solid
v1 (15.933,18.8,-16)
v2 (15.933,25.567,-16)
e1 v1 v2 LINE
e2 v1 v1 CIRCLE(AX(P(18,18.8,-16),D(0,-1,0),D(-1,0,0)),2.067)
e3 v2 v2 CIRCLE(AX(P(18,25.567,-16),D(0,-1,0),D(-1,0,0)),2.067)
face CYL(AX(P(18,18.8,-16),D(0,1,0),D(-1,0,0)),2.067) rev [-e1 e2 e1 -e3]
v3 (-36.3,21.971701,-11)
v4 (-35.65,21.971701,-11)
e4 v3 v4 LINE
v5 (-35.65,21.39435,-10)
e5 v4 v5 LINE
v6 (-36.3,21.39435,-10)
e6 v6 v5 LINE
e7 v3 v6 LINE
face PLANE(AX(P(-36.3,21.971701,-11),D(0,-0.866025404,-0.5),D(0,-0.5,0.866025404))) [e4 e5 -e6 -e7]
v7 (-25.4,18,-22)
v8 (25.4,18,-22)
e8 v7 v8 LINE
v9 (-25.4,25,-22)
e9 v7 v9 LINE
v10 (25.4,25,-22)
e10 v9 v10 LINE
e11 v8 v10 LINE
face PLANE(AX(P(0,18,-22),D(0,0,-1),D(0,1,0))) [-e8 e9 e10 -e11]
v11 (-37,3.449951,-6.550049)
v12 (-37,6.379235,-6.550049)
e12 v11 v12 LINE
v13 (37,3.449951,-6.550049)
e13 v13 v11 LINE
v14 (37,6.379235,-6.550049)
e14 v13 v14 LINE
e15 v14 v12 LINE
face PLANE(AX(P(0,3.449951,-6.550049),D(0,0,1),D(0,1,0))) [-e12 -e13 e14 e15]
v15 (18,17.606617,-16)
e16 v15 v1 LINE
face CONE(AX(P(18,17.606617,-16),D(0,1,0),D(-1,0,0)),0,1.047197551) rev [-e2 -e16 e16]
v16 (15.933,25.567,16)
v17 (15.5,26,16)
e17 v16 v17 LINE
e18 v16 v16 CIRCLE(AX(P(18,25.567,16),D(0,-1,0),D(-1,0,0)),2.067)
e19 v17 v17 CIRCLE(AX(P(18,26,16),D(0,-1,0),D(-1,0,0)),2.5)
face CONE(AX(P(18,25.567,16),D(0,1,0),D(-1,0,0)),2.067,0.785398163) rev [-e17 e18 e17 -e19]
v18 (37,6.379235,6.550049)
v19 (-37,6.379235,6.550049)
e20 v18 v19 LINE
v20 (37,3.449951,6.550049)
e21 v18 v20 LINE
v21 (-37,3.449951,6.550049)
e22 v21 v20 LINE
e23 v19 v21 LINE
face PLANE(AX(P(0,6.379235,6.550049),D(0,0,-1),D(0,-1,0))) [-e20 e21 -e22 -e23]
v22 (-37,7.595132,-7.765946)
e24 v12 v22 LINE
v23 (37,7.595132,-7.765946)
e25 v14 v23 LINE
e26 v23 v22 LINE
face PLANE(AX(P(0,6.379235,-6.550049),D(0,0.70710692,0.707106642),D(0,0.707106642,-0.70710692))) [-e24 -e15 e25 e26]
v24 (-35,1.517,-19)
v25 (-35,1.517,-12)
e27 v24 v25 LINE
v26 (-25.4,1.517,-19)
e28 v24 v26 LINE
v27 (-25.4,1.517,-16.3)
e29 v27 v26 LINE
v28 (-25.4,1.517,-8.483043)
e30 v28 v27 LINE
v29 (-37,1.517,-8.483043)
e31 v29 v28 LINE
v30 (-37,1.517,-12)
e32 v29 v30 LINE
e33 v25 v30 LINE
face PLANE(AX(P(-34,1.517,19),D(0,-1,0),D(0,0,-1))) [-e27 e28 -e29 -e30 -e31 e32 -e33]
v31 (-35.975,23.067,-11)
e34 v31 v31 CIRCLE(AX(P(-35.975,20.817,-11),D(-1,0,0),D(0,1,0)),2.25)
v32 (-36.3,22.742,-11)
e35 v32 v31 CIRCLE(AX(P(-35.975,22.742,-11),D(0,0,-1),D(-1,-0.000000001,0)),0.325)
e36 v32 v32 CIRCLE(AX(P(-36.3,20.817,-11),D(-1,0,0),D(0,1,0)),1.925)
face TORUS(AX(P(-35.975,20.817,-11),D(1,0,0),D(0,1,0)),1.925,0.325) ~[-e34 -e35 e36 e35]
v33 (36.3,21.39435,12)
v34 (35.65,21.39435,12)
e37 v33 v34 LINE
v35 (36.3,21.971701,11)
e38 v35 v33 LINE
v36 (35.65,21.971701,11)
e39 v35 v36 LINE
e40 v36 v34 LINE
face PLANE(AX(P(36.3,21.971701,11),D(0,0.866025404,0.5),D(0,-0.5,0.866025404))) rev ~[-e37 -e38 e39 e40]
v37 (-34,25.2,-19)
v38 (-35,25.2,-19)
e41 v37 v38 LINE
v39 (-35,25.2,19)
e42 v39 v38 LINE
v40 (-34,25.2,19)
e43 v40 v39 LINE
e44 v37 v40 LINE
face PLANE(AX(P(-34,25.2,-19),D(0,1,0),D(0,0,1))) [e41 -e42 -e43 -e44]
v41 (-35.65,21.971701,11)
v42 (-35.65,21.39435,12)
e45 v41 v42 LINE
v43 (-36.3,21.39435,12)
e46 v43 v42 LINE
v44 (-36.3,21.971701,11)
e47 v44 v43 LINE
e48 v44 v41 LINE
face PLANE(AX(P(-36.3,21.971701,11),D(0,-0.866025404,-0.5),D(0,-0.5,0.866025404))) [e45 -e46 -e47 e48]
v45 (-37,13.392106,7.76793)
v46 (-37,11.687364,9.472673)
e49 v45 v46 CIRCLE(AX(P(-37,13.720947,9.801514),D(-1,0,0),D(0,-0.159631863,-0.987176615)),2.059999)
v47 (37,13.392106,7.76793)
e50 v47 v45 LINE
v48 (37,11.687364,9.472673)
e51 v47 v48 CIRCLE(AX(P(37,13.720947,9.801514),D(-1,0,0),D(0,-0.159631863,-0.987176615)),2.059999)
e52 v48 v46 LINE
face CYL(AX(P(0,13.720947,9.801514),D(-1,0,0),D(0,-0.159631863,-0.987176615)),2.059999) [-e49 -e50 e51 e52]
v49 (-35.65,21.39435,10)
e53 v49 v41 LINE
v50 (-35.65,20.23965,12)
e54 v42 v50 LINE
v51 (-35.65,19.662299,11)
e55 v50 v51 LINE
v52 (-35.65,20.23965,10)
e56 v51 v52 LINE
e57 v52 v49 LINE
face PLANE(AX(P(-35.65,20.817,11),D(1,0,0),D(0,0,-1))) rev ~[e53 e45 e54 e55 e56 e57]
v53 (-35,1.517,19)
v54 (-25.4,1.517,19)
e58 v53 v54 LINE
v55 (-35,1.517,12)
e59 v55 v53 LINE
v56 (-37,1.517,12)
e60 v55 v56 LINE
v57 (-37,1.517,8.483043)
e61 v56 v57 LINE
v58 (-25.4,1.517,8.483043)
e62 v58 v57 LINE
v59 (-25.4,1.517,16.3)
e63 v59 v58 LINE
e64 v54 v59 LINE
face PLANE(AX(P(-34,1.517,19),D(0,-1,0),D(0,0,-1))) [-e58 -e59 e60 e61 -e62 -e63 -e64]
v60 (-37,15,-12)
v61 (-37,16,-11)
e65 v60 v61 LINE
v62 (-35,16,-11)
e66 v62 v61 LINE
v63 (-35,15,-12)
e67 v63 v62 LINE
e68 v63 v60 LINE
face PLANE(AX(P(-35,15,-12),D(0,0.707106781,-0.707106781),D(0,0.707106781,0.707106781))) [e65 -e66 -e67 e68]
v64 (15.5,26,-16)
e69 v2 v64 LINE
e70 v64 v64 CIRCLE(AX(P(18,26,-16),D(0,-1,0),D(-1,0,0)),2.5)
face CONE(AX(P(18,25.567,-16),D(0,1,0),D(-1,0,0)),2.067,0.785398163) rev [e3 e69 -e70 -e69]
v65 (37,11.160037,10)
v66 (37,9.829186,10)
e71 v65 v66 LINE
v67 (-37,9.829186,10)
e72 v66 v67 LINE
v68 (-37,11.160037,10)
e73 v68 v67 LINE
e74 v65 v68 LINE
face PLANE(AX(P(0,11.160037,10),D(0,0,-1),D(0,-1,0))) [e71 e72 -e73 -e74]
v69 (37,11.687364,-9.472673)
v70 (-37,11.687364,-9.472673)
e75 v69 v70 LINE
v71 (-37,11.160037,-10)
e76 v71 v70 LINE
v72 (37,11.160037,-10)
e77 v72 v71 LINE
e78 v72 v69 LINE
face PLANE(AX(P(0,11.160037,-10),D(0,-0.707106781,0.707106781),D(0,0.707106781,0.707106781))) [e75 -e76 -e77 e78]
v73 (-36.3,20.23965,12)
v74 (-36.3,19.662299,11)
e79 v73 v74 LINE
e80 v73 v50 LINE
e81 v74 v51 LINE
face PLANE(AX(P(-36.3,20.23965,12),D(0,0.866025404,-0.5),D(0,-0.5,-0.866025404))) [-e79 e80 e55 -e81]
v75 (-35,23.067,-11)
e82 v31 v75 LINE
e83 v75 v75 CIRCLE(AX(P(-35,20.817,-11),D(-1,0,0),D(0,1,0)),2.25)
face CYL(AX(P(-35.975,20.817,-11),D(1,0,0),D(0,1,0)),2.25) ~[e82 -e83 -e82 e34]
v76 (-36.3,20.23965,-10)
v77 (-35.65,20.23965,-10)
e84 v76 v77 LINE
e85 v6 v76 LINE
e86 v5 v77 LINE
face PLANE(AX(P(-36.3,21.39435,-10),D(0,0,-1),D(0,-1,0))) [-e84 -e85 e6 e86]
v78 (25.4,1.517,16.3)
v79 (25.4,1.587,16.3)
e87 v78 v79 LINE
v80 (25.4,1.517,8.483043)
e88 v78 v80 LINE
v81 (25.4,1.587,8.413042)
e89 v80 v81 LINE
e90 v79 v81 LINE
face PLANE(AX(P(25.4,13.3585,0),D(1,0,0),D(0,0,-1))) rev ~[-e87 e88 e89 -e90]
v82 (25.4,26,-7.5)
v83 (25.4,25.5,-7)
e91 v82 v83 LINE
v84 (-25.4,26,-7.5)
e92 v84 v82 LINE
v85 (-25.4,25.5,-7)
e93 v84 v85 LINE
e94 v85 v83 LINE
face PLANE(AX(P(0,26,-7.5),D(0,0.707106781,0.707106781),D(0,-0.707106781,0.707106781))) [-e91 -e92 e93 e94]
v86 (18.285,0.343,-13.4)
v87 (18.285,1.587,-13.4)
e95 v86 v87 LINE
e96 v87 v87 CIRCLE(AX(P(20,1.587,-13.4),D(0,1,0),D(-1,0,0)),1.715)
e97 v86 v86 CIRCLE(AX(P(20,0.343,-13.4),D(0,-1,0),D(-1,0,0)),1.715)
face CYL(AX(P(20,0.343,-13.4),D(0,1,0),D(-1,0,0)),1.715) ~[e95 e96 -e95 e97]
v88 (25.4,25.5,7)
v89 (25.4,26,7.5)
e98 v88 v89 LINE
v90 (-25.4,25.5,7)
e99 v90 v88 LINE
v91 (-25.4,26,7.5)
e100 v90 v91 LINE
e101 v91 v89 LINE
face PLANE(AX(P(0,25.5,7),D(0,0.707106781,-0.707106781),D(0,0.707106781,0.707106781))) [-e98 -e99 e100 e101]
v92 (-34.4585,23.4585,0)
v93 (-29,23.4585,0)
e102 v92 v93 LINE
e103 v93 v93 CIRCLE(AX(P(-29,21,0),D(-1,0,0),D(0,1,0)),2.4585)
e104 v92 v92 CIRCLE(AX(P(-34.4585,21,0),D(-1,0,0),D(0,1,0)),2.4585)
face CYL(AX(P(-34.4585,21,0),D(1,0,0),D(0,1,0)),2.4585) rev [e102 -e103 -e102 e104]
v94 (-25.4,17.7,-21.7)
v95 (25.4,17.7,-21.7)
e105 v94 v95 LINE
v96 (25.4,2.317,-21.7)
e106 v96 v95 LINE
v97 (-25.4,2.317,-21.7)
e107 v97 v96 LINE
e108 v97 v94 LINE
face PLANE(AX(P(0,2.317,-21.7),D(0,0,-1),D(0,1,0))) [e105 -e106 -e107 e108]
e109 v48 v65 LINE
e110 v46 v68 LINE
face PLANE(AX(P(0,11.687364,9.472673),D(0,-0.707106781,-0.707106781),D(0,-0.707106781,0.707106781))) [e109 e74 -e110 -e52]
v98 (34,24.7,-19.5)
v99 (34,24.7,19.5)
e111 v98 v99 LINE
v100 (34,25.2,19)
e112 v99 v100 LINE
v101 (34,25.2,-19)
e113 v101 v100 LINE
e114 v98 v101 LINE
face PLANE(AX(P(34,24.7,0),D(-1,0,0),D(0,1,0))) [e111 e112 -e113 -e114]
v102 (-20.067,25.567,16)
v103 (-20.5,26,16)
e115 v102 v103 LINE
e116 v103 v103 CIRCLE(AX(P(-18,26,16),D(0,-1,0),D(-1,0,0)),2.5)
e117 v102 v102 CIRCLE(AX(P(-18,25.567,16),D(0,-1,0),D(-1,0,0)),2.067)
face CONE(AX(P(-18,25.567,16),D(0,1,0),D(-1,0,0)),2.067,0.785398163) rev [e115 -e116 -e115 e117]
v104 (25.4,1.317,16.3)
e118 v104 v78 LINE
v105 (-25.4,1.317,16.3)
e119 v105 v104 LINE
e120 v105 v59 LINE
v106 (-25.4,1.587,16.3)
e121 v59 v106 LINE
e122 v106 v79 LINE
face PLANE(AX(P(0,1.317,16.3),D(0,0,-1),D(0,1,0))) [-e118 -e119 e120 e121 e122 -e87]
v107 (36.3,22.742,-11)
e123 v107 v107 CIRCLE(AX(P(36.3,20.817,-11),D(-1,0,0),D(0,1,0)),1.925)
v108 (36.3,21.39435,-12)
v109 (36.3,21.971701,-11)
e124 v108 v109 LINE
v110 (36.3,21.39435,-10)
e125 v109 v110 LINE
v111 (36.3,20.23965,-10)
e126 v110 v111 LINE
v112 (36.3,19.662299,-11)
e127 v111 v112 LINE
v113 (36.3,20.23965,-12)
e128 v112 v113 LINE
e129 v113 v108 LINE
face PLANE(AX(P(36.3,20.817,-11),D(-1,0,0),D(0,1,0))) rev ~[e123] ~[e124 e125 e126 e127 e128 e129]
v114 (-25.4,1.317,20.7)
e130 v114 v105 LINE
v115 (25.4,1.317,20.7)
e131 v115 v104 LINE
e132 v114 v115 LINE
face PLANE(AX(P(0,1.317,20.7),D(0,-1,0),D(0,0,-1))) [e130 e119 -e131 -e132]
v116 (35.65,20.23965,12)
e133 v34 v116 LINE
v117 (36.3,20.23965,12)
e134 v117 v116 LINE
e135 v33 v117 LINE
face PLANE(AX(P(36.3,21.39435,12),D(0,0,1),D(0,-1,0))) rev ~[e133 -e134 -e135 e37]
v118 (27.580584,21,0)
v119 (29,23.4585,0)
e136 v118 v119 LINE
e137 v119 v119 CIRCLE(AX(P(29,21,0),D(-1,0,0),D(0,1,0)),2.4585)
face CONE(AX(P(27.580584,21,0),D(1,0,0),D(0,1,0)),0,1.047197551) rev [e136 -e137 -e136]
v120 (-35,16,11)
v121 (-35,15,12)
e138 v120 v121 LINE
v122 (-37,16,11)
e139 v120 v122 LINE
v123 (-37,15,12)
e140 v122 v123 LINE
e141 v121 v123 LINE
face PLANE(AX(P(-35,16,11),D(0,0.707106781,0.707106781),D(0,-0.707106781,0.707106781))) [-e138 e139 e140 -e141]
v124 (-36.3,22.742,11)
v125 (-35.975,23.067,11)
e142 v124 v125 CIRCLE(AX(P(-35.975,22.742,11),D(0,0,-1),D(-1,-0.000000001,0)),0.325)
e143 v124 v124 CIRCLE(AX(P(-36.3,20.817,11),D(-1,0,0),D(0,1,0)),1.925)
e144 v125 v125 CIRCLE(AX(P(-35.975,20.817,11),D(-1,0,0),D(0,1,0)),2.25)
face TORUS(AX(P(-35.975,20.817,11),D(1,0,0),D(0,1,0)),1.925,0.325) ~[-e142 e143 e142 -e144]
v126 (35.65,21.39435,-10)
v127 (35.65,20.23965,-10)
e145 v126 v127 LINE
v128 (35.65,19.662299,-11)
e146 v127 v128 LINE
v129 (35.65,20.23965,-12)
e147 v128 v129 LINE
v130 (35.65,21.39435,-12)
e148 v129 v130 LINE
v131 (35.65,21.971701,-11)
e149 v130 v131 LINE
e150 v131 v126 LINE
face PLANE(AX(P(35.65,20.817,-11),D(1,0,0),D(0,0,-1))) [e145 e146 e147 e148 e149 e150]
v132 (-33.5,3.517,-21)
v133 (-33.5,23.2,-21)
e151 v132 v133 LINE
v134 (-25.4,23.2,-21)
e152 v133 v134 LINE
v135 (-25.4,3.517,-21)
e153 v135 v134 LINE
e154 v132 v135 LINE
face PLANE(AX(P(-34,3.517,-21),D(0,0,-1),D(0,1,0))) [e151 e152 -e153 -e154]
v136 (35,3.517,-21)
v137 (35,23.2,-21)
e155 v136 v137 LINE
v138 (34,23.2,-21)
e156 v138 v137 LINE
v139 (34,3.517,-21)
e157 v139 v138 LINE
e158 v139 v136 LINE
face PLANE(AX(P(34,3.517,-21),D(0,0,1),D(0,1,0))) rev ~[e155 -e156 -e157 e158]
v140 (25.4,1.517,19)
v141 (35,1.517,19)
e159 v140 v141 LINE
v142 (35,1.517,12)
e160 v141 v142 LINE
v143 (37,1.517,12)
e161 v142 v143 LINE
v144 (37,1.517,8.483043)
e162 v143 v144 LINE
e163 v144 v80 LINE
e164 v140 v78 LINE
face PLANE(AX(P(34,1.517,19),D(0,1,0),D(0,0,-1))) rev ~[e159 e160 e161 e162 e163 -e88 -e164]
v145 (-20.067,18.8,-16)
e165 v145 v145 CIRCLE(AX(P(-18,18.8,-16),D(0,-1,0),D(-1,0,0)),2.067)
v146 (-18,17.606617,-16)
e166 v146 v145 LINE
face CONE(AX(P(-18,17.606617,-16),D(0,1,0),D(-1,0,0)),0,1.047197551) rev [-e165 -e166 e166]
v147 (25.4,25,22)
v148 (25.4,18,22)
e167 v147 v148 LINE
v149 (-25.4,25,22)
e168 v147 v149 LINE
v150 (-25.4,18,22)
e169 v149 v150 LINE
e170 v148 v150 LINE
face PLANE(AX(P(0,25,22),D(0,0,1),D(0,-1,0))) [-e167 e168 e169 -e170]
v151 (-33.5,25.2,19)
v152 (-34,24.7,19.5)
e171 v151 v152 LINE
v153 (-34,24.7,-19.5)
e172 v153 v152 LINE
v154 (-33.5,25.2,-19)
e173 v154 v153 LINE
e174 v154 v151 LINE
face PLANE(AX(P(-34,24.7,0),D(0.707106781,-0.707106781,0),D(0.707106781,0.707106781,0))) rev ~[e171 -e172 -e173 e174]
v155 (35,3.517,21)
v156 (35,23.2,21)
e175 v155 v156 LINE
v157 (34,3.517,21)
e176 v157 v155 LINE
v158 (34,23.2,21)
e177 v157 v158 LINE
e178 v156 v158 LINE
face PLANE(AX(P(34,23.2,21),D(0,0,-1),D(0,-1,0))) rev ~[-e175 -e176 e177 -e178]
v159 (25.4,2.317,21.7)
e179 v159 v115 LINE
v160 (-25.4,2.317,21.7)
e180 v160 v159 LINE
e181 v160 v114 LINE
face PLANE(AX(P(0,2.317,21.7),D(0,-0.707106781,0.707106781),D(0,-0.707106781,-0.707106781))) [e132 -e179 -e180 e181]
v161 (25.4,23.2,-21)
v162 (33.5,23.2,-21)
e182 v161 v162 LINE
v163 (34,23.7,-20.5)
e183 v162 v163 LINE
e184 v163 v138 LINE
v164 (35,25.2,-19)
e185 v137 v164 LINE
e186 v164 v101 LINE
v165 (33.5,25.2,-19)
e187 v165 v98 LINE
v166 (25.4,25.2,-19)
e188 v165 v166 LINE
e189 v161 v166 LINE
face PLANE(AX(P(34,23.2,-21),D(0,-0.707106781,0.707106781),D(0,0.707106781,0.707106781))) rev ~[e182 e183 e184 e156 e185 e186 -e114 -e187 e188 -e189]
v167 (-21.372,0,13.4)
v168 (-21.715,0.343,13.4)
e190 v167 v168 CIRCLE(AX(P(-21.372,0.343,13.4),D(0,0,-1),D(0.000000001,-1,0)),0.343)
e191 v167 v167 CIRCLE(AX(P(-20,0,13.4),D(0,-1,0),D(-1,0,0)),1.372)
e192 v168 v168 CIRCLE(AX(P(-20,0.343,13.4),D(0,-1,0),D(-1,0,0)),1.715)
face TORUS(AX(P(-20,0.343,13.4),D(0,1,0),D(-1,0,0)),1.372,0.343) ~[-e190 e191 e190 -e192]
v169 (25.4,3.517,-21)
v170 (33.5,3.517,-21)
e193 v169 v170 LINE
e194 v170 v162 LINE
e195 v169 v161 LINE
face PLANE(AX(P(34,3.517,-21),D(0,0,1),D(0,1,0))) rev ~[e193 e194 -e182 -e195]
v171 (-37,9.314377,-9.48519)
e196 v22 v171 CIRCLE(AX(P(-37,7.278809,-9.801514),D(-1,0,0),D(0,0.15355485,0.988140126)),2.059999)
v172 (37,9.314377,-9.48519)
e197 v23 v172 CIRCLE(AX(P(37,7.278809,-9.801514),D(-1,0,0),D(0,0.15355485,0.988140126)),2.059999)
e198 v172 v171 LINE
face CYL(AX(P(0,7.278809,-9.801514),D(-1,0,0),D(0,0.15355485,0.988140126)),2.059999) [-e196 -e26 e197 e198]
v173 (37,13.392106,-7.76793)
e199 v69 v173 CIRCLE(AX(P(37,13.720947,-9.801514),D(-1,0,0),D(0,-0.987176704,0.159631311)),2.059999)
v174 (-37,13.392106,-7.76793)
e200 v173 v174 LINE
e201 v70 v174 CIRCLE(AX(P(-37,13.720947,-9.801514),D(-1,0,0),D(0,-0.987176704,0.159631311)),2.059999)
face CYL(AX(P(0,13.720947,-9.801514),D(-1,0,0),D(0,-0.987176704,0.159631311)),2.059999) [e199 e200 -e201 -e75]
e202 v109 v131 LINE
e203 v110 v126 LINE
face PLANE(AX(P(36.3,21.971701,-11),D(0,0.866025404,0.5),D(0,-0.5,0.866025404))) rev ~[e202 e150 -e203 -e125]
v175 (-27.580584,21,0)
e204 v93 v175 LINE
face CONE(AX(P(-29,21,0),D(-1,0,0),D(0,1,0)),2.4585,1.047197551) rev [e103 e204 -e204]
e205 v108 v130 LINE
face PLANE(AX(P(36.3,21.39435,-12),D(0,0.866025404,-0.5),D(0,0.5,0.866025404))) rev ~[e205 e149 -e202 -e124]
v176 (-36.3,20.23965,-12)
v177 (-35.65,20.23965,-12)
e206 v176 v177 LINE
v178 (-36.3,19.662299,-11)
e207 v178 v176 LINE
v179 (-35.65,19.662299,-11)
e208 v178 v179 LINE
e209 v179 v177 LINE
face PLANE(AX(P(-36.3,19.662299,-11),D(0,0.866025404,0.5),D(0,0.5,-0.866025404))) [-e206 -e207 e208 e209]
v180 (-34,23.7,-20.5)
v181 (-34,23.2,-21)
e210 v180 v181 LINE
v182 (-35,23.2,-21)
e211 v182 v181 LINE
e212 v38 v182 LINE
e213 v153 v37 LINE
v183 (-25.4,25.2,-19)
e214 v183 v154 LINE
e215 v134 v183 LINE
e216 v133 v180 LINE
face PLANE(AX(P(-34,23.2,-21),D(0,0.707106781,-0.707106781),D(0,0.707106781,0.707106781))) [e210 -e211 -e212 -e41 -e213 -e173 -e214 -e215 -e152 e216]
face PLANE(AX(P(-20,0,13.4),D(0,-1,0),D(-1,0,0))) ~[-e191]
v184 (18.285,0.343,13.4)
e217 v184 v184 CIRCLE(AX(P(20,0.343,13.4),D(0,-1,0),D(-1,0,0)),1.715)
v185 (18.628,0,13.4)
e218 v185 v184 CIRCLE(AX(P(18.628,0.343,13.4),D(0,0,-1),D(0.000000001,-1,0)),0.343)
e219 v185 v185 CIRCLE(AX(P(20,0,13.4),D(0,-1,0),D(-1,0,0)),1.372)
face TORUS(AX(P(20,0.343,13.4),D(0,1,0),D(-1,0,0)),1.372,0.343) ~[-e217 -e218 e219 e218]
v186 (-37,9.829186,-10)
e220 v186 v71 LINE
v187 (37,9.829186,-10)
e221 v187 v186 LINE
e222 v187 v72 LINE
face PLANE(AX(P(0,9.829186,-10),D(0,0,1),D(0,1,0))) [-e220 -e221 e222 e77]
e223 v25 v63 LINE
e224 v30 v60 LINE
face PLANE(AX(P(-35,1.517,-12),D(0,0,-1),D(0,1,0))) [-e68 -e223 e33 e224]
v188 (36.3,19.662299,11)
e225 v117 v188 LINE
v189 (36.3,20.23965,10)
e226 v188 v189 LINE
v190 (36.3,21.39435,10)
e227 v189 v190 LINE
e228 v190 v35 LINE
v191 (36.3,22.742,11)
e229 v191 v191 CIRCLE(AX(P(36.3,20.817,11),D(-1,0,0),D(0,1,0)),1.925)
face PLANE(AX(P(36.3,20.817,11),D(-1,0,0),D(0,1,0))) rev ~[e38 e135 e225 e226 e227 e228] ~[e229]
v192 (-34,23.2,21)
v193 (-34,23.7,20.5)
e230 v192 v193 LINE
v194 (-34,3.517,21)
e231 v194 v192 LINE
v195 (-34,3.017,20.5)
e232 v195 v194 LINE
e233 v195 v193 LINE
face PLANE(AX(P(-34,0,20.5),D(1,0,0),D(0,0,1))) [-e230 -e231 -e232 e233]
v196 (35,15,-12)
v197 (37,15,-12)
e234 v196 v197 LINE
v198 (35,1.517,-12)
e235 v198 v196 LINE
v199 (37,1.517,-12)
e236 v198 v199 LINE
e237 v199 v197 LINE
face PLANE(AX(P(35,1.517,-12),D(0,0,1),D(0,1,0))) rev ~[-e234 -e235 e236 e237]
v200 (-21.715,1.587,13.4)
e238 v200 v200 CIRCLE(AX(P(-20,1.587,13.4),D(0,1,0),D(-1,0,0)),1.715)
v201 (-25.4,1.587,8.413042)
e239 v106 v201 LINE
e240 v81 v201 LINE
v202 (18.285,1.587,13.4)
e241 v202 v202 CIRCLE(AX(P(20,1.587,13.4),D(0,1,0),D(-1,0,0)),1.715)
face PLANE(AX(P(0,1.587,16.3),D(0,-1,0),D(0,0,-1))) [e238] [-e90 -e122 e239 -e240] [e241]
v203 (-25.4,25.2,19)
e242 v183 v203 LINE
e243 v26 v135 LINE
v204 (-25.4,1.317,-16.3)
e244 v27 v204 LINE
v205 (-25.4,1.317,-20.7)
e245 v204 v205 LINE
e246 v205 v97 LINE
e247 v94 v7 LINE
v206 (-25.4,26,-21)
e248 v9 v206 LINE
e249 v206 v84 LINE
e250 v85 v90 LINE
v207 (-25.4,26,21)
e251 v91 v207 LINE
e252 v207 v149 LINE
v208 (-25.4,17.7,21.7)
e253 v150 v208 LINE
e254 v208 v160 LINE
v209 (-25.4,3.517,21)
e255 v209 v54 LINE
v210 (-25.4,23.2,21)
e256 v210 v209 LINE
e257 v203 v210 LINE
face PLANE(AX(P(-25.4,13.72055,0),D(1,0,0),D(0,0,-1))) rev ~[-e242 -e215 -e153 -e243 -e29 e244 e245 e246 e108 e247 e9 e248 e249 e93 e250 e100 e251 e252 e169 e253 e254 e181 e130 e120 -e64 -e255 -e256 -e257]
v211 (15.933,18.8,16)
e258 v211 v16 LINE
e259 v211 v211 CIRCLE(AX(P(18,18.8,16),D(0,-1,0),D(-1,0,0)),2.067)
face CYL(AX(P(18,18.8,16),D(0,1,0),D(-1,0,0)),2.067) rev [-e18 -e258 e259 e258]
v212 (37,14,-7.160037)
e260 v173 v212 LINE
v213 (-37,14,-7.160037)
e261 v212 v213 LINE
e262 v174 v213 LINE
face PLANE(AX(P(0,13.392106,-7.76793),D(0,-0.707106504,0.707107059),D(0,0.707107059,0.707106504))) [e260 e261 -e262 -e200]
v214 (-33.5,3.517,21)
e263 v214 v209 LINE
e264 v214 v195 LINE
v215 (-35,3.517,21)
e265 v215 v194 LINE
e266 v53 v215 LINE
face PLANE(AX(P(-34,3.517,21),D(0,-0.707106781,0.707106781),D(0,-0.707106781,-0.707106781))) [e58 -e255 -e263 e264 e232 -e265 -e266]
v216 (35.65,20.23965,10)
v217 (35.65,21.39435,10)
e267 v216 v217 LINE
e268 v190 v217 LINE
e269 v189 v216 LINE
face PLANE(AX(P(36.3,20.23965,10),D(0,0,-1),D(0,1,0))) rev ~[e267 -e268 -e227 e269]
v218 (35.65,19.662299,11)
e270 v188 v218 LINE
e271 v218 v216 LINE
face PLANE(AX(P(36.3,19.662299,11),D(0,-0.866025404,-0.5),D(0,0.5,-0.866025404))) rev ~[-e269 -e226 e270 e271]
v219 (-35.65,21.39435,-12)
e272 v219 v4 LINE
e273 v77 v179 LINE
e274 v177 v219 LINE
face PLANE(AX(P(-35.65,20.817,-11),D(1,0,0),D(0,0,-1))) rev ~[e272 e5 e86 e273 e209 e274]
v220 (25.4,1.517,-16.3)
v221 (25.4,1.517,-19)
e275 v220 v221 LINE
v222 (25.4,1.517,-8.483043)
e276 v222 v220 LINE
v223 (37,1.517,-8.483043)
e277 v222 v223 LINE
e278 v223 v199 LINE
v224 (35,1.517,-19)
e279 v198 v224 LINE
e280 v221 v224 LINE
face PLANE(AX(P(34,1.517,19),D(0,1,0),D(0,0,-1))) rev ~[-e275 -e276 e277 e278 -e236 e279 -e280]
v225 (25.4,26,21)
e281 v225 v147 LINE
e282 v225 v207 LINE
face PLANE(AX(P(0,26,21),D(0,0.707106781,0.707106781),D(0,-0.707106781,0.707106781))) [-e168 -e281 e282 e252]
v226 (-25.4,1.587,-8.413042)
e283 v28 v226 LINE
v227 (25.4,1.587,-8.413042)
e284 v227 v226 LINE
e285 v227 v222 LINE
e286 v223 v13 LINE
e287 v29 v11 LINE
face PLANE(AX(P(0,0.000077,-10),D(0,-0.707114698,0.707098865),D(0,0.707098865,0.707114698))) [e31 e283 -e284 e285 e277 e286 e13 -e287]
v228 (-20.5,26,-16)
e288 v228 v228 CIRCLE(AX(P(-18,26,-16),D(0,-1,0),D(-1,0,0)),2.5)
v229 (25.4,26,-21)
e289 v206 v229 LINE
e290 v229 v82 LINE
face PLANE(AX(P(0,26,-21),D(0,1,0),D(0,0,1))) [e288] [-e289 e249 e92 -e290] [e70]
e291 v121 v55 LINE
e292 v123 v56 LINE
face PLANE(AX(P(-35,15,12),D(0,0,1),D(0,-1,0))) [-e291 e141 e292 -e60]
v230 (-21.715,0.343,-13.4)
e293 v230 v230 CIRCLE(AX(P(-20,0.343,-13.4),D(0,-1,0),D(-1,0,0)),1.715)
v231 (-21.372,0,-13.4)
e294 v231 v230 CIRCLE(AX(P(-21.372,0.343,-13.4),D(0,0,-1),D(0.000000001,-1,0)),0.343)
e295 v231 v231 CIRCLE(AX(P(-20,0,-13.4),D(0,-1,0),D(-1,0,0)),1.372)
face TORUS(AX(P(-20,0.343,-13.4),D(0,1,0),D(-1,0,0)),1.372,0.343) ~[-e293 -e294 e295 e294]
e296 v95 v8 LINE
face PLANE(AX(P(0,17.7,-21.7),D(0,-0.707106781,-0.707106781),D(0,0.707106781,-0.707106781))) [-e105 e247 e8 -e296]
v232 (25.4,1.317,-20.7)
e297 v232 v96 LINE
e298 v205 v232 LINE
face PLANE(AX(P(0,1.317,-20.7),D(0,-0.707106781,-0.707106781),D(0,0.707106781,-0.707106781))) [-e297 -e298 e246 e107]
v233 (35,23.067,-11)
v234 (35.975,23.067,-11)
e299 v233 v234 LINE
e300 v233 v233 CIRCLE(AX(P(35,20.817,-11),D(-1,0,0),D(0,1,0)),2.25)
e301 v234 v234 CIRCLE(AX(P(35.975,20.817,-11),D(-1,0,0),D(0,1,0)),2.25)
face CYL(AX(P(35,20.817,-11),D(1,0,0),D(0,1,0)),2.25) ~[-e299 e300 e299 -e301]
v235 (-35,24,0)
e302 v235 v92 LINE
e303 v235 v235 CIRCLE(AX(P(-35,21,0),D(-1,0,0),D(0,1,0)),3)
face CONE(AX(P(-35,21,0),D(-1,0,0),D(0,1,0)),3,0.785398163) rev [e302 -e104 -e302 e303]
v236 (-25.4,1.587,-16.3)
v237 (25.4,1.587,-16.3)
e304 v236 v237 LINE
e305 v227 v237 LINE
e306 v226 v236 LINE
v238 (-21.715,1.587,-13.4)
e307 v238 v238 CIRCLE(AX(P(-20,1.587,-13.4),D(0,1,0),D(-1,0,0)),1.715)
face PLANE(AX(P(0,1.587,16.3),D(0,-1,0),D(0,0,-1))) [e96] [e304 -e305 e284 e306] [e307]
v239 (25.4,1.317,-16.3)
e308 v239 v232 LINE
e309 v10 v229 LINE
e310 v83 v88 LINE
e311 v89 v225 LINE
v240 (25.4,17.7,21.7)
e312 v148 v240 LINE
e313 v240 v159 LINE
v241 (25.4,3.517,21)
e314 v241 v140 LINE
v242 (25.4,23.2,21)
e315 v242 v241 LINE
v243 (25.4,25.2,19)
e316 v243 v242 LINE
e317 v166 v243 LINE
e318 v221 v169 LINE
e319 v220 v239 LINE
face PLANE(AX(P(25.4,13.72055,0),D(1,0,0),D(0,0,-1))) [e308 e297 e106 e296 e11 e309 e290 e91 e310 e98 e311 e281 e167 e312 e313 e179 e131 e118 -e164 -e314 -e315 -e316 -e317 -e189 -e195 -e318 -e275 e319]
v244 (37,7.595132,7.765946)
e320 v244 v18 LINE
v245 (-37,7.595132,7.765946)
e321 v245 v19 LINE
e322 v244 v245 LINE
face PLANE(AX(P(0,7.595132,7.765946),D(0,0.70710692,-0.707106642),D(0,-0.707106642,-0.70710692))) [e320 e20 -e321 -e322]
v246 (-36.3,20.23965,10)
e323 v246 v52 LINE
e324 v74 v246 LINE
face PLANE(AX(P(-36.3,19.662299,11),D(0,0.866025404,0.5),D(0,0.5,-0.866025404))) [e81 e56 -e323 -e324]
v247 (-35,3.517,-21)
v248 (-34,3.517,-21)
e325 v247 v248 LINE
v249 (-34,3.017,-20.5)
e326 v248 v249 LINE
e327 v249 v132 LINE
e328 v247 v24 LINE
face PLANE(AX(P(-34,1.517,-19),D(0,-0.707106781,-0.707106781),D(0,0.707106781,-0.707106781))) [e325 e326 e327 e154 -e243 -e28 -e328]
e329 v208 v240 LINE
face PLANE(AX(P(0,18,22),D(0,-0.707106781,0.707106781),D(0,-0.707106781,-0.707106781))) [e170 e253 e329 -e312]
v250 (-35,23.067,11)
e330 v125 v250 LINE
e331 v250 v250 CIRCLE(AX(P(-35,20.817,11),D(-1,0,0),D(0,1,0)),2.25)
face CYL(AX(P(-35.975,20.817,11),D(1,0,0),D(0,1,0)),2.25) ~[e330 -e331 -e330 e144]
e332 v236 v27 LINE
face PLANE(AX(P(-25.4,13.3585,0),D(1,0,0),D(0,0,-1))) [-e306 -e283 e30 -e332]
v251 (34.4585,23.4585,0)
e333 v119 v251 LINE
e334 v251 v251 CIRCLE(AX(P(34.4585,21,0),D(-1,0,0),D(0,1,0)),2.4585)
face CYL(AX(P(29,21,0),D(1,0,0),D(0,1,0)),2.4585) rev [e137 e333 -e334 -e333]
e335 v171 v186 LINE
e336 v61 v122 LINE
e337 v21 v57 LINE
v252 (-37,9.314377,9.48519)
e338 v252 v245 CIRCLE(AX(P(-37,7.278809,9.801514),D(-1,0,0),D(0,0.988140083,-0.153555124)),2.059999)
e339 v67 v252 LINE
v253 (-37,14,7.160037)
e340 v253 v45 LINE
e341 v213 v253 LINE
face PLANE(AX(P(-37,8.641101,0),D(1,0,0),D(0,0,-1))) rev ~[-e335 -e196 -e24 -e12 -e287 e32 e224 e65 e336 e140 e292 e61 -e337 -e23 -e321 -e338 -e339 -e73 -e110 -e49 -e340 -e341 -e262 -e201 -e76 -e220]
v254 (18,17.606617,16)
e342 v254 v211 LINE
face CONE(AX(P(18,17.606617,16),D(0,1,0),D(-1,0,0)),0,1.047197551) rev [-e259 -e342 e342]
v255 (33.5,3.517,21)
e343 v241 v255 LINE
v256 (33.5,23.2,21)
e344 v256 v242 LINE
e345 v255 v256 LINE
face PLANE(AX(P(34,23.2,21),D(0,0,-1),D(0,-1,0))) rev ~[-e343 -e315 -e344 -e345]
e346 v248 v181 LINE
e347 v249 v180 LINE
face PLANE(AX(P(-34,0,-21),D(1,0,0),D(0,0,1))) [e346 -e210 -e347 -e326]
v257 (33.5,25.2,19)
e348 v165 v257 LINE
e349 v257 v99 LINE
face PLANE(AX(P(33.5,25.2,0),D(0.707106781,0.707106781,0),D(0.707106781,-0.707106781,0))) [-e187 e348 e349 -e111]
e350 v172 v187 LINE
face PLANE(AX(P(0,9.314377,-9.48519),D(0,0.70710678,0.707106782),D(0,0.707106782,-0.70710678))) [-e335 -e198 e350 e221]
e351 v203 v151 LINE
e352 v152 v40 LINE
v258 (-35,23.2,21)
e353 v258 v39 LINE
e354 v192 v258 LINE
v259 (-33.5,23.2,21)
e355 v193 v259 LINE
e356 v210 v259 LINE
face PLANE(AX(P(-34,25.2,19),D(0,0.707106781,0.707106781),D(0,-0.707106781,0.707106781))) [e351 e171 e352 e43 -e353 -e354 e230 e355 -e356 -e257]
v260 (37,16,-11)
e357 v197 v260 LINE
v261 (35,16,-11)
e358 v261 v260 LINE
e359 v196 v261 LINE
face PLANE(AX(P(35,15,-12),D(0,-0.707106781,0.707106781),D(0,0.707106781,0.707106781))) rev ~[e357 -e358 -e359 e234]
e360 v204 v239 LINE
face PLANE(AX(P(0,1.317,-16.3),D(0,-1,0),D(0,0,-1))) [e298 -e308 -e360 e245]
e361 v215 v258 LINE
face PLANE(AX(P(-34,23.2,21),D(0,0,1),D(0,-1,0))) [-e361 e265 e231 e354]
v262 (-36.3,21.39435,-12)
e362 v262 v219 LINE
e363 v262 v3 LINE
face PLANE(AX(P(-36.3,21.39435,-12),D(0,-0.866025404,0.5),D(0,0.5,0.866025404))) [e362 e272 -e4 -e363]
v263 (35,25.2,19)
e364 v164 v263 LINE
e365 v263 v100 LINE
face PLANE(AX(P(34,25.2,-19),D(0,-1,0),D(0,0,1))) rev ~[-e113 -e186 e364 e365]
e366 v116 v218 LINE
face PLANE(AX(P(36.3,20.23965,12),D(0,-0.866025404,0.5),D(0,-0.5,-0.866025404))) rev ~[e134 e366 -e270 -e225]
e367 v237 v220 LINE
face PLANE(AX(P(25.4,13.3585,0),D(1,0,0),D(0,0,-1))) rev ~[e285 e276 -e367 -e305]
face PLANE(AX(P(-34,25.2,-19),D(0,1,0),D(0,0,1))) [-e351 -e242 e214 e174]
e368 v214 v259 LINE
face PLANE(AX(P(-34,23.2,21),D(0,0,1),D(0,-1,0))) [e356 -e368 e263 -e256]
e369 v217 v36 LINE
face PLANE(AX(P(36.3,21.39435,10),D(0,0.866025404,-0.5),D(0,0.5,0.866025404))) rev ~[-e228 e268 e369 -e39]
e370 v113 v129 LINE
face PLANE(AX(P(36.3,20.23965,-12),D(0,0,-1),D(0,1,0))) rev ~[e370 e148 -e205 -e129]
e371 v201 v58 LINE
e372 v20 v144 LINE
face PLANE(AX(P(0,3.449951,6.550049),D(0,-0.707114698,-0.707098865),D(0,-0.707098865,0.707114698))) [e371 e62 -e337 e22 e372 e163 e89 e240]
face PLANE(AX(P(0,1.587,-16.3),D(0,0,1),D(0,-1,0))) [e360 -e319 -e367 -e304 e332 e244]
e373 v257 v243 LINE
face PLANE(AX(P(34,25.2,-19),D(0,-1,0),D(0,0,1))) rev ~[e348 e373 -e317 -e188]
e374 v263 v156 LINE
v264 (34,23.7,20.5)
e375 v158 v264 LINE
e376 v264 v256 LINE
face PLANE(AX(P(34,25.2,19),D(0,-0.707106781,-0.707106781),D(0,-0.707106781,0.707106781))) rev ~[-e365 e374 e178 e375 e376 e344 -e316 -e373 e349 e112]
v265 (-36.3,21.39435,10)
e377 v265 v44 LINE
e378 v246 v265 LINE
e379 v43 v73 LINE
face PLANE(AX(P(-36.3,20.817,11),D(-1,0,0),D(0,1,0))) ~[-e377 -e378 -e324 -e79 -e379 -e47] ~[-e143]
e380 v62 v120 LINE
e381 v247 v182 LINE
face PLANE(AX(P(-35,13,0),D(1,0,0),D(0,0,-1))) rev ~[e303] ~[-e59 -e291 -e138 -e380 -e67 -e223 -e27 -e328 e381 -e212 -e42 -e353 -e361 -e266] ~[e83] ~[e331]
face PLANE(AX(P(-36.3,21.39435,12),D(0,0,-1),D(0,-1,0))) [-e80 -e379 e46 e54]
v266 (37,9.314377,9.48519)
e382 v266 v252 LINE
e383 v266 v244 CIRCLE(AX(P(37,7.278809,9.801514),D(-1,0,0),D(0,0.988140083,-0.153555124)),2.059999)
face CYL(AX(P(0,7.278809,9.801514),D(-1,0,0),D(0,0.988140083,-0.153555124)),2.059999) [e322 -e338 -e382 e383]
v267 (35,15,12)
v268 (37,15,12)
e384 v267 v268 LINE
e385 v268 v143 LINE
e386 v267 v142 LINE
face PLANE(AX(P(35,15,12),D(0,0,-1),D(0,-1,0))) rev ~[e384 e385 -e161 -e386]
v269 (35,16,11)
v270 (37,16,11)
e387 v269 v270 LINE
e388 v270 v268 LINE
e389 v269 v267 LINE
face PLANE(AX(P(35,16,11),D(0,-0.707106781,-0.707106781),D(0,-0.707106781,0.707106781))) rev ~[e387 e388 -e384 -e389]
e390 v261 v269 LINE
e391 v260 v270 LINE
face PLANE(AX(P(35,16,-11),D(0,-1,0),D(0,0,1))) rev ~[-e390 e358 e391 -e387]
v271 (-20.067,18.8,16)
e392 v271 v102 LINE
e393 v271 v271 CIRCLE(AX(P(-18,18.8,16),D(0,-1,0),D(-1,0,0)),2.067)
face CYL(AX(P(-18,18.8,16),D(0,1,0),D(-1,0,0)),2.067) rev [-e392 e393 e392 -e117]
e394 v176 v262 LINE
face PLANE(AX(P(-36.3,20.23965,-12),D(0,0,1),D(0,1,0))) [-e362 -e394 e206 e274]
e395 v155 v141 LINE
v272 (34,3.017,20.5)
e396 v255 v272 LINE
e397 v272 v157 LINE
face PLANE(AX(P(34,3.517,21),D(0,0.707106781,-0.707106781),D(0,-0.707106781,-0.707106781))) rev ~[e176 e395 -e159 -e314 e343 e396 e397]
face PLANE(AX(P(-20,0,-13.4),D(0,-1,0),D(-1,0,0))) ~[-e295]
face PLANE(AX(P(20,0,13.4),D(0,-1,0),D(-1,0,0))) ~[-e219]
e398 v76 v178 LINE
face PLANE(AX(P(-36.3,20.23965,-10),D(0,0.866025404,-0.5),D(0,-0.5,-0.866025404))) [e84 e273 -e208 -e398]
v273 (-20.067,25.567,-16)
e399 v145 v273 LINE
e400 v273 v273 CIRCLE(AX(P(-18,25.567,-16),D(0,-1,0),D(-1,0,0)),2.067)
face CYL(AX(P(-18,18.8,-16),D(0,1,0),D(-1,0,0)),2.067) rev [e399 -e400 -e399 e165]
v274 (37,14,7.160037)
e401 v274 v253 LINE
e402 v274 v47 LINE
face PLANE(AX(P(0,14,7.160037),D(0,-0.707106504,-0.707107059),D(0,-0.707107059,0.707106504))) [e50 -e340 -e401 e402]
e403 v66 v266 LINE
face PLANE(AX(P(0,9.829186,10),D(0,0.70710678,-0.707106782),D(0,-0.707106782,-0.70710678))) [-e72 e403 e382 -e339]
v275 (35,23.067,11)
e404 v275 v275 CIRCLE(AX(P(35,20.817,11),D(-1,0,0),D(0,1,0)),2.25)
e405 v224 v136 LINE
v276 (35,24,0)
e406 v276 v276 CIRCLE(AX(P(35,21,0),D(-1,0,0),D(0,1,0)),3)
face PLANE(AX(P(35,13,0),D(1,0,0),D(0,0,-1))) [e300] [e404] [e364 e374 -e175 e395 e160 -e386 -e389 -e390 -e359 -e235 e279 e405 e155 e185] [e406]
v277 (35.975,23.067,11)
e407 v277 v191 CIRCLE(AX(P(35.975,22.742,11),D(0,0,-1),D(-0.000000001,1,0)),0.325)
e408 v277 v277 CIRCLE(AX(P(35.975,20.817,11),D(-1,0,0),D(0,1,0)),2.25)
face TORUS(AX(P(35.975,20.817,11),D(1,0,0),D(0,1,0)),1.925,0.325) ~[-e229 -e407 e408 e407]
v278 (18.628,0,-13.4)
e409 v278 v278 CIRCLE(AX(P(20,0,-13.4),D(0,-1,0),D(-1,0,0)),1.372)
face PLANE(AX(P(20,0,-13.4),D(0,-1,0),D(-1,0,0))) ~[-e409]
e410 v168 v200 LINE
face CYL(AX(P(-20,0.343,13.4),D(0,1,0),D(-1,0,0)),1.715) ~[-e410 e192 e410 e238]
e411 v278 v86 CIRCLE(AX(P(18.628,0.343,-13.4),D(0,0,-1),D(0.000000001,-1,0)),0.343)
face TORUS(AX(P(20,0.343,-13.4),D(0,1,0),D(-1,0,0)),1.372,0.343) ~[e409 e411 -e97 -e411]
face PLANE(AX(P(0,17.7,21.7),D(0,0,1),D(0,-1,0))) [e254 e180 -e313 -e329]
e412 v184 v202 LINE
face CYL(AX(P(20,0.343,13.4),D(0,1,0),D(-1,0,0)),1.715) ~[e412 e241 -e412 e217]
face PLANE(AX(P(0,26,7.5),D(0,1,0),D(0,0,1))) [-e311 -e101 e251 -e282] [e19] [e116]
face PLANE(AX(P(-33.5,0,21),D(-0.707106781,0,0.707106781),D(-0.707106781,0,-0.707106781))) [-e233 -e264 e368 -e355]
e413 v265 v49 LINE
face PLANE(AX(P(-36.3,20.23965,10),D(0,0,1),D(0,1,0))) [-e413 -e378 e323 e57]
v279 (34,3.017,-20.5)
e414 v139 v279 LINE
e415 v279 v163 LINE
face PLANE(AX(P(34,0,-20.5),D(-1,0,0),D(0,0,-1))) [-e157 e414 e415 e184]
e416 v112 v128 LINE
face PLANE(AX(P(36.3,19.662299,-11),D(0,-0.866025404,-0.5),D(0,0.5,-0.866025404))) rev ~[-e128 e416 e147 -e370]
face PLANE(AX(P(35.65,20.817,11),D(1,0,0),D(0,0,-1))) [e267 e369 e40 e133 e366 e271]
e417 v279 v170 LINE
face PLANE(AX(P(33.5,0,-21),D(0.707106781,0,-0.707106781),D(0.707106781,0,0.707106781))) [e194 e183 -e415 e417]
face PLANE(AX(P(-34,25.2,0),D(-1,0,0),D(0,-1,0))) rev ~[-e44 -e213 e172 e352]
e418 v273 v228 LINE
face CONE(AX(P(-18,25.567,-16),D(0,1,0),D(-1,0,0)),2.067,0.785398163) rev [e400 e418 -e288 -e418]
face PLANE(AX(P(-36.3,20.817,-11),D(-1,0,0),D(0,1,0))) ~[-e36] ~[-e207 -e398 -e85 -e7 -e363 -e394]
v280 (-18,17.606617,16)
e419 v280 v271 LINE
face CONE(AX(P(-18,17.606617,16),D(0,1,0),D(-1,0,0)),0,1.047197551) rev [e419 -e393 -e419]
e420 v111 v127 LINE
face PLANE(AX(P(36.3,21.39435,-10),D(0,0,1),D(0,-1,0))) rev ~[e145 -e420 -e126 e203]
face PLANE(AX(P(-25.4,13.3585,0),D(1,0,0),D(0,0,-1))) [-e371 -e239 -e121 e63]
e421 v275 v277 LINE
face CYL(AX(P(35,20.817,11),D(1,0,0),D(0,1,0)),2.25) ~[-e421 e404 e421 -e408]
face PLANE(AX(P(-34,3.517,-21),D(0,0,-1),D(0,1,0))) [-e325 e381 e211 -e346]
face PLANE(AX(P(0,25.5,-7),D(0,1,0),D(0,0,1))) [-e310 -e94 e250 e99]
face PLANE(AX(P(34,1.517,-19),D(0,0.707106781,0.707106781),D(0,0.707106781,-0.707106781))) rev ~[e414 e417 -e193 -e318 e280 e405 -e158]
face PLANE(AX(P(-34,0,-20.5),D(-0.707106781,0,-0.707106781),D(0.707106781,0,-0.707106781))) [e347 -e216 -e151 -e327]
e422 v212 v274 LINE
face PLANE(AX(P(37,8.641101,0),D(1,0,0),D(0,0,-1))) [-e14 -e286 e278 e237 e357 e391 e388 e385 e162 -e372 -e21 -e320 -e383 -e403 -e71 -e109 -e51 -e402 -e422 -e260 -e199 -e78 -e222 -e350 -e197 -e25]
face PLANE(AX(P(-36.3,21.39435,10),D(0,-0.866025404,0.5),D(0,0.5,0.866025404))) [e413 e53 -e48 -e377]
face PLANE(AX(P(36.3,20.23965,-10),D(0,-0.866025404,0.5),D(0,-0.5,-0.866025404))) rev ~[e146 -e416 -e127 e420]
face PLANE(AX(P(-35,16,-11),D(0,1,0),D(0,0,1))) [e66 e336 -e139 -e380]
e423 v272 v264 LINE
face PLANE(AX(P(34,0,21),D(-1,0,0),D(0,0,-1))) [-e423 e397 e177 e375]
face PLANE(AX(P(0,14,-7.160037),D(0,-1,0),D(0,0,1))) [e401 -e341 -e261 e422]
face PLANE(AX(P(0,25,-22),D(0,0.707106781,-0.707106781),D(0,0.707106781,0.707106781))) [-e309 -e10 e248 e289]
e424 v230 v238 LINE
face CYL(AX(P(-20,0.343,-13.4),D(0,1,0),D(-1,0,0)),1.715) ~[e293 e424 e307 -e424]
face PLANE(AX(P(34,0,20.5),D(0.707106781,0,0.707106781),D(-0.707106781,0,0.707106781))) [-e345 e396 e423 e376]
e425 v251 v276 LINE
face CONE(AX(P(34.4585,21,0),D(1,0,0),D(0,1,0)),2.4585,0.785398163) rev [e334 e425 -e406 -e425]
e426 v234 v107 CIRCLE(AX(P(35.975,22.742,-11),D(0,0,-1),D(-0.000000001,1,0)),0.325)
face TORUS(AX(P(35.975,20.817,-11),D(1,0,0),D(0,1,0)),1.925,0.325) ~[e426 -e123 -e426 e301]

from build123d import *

# Parameters (mm, degrees)
BOSS_EXTRUDE1_DEPTH      = 25.4
BOSS_EXTRUDE1_DEPTH_BACK = 25.4
BOSS_EXTRUDE2_DEPTH      = 8.6
BOSS_EXTRUDE3_DEPTH      = 3
BOSS_EXTRUDE4_DEPTH      = 8.6
BOSS_EXTRUDE5_DEPTH      = 3
SKETCH10_W               = 42
SKETCH10_H               = 26
CUT_EXTRUDE1_DEPTH       = 2
SKETCH11_W               = 42
SKETCH11_H               = 26
CUT_EXTRUDE2_DEPTH       = 2
BOSS_EXTRUDE6_DEPTH      = 2
BOSS_EXTRUDE7_DEPTH      = 2
CUT_EXTRUDE3_DEPTH       = 37
CUT_EXTRUDE3_DEPTH_BACK  = 37
CUT_EXTRUDE4_DEPTH       = 0.65
CUT_EXTRUDE5_DEPTH       = 0.65
CUT_EXTRUDE6_DEPTH       = 0.65
CUT_EXTRUDE7_DEPTH       = 0.65
CUT_EXTRUDE8_DEPTH       = 21
CUT_EXTRUDE8_DEPTH_BACK  = 21
CUT_EXTRUDE9_DEPTH       = 21
CUT_EXTRUDE9_DEPTH_BACK  = 21
CUT_EXTRUDE10_DEPTH      = 26
CUT_EXTRUDE11_DEPTH      = 26
CUT_EXTRUDE12_DEPTH      = 26
CUT_EXTRUDE13_DEPTH      = 26


with BuildPart() as part:
    # Sketch1 → Boss-Extrude1 (new, two sides: drawn at the far end of the back side and taken through both)
    with BuildSketch(Plane(origin=(0, 0, 0), x_dir=(0, 0, -1), z_dir=(1, 0, 0)).offset(-BOSS_EXTRUDE1_DEPTH_BACK)):
        Polygon((-22, 18), (-21.7, 17.7), (-21.7, 2.317), (-20.7, 1.317), (-16.3, 1.317), (-16.3, 1.587), (16.3, 1.587), (16.3, 1.317), (20.7, 1.317), (21.7, 2.317), (21.7, 17.7), (22, 18), (22, 25), (21, 26), (7.5, 26), (7, 25.5), (-7, 25.5), (-7.5, 26), (-21, 26), (-22, 25), align=None)
    extrude(amount=BOSS_EXTRUDE1_DEPTH + BOSS_EXTRUDE1_DEPTH_BACK)

    # Sketch2 → Cut-Revolve1 (revolve, cut)
    with BuildSketch(Plane.XY.offset(16)):
        Polygon((-18, 17.606616994), (-20.067, 18.8), (-20.067, 25.567), (-20.5, 26), (-18, 26), align=None)
    revolve(axis=Axis((-18, 26, 16), (0, -1, 0)), mode=Mode.SUBTRACT)

    # Sketch3 → Cut-Revolve2 (revolve, cut)
    with BuildSketch(Plane.XY.offset(-16)):
        Polygon((-18, 17.606616994), (-20.067, 18.8), (-20.067, 25.567), (-20.5, 26), (-18, 26), align=None)
    revolve(axis=Axis((-18, 26, -16), (0, -1, 0)), mode=Mode.SUBTRACT)

    # Sketch4 → Cut-Revolve3 (revolve, cut)
    with BuildSketch(Plane.XY.offset(-16)):
        Polygon((18, 17.606616994), (15.933, 18.8), (15.933, 25.567), (15.5, 26), (18, 26), align=None)
    revolve(axis=Axis((18, 26, -16), (0, -1, 0)), mode=Mode.SUBTRACT)

    # Sketch5 → Cut-Revolve4 (revolve, cut)
    with BuildSketch(Plane.XY.offset(16)):
        Polygon((18, 17.606616994), (15.933, 18.8), (15.933, 25.567), (15.5, 26), (18, 26), align=None)
    revolve(axis=Axis((18, 26, 16), (0, -1, 0)), mode=Mode.SUBTRACT)

    # Sketch6 → Boss-Extrude2 (add)
    with BuildSketch(Plane(origin=(-34, 0, 0), x_dir=(0, 0, -1), z_dir=(1, 0, 0))):
        Polygon((-21, 23.2), (-21, 3.517), (-19, 1.517), (19, 1.517), (21, 3.517), (21, 23.2), (19, 25.2), (-19, 25.2), align=None)
    extrude(amount=BOSS_EXTRUDE2_DEPTH)

    # Sketch7 → Boss-Extrude3 (add)
    with BuildSketch(Plane(origin=(-34, 0, 0), x_dir=(0, 0, -1), z_dir=(1, 0, 0))):
        Polygon((-21, 23.2), (-21, 3.517), (-19, 1.517), (19, 1.517), (21, 3.517), (21, 23.2), (19, 25.2), (-19, 25.2), align=None)
    extrude(amount=-BOSS_EXTRUDE3_DEPTH)

    # Sketch8 → Boss-Extrude4 (add)
    with BuildSketch(Plane(origin=(34, 0, 0), x_dir=(0, 0, -1), z_dir=(1, 0, 0))):
        Polygon((-21, 23.2), (-21, 3.517), (-19, 1.517), (19, 1.517), (21, 3.517), (21, 23.2), (19, 25.2), (-19, 25.2), align=None)
    extrude(amount=-BOSS_EXTRUDE4_DEPTH)

    # Sketch9 → Boss-Extrude5 (add)
    with BuildSketch(Plane(origin=(34, 0, 0), x_dir=(0, 0, -1), z_dir=(1, 0, 0))):
        Polygon((-21, 23.2), (-21, 3.517), (-19, 1.517), (19, 1.517), (21, 3.517), (21, 23.2), (19, 25.2), (-19, 25.2), align=None)
    extrude(amount=BOSS_EXTRUDE5_DEPTH)

    # Sketch10 → Cut-Extrude1 (cut)
    with BuildSketch(Plane(origin=(37, 0, 0), x_dir=(0, 0, -1), z_dir=(1, 0, 0))):
        with Locations((0, 13)):
            Rectangle(SKETCH10_W, SKETCH10_H)
    extrude(amount=-CUT_EXTRUDE1_DEPTH, mode=Mode.SUBTRACT)

    # Sketch11 → Cut-Extrude2 (cut)
    with BuildSketch(Plane(origin=(-37, 0, 0), x_dir=(0, 0, -1), z_dir=(1, 0, 0))):
        with Locations((0, 13)):
            Rectangle(SKETCH11_W, SKETCH11_H)
    extrude(amount=CUT_EXTRUDE2_DEPTH, mode=Mode.SUBTRACT)

    # Sketch12 → Boss-Extrude6 (add)
    with BuildSketch(Plane(origin=(-35, 0, 0), x_dir=(0, 0, -1), z_dir=(1, 0, 0))):
        Polygon((-12, 15), (-12, 1.517), (12, 1.517), (12, 15), (11, 16), (-11, 16), align=None)
    extrude(amount=-BOSS_EXTRUDE6_DEPTH)

    # Sketch13 → Boss-Extrude7 (add)
    with BuildSketch(Plane(origin=(35, 0, 0), x_dir=(0, 0, -1), z_dir=(1, 0, 0))):
        Polygon((-12, 15), (-12, 1.517), (12, 1.517), (12, 15), (11, 16), (-11, 16), align=None)
    extrude(amount=BOSS_EXTRUDE7_DEPTH)

    # Sketch14 → Cut-Extrude3 (cut, two sides: drawn at the far end of the back side and taken through both)
    with BuildSketch(Plane(origin=(0, 0, 0), x_dir=(0, 0, -1), z_dir=(1, 0, 0)).offset(-CUT_EXTRUDE3_DEPTH_BACK)):
        with BuildLine():
            Line((-10, -3.5), (10, -3.5))
            Line((10, -3.5), (10, 7.7248e-05))
            Line((10, 7.7248e-05), (6.550048828, 3.449951172))
            Line((6.550048828, 3.449951172), (6.550048828, 6.379235268))
            Line((6.550048828, 6.379235268), (7.765945541, 7.595131504))
            ThreePointArc((7.765945541, 7.595131504), (8.344873878, 8.735447983), (9.485190198, 9.314376637))
            Line((9.485190198, 9.314376637), (10, 9.82918644))
            Line((10, 9.82918644), (10, 11.160037041))
            Line((10, 11.160037041), (9.472673258, 11.687363783))
            ThreePointArc((9.472673258, 11.687363783), (8.344874488, 12.264307267), (7.767930373, 13.392105714))
            Line((7.767930373, 13.392105714), (7.160036564, 14))
            Line((7.160036564, 14), (-7.160036564, 14))
            Line((-7.160036564, 14), (-7.767930373, 13.392105714))
            ThreePointArc((-7.767930373, 13.392105714), (-8.344874488, 12.264307267), (-9.472673258, 11.687363783))
            Line((-9.472673258, 11.687363783), (-10, 11.160037041))
            Line((-10, 11.160037041), (-10, 9.82918644))
            Line((-10, 9.82918644), (-9.485190198, 9.314376637))
            ThreePointArc((-9.485190198, 9.314376637), (-8.344873878, 8.735447983), (-7.765945541, 7.595131504))
            Line((-7.765945541, 7.595131504), (-6.550048828, 6.379235268))
            Line((-6.550048828, 6.379235268), (-6.550048828, 3.449951172))
            Line((-6.550048828, 3.449951172), (-10, 7.7248e-05))
            Line((-10, 7.7248e-05), (-10, -3.5))
        make_face()
    extrude(amount=CUT_EXTRUDE3_DEPTH + CUT_EXTRUDE3_DEPTH_BACK, mode=Mode.SUBTRACT)

    # Sketch15 → Revolve1 (revolve)
    with BuildSketch(Plane.XY.offset(-11)):
        with BuildLine():
            Line((35, 20.817), (35, 23.067))
            Line((35, 23.067), (35.975, 23.067))
            ThreePointArc((35.975, 23.067), (36.204809704, 22.971809704), (36.3, 22.742))
            Line((36.3, 22.742), (36.3, 20.817))
            Line((36.3, 20.817), (35, 20.817))
        make_face()
    revolve(axis=Axis((36.3, 20.817, -11), (-1, 0, 0)))

    # Sketch16 → Revolve2 (revolve)
    with BuildSketch(Plane.XY.offset(-11)):
        with BuildLine():
            Line((-36.3, 20.817), (-36.3, 22.742))
            ThreePointArc((-36.3, 22.742), (-36.204809704, 22.971809704), (-35.975, 23.067))
            Line((-35.975, 23.067), (-35, 23.067))
            Line((-35, 23.067), (-35, 20.817))
            Line((-35, 20.817), (-36.3, 20.817))
        make_face()
    revolve(axis=Axis((-35, 20.817, -11), (-1, 0, 0)))

    # Sketch17 → Revolve3 (revolve)
    with BuildSketch(Plane.XY.offset(11)):
        with BuildLine():
            Line((35, 20.817), (35, 23.067))
            Line((35, 23.067), (35.975, 23.067))
            ThreePointArc((35.975, 23.067), (36.204809704, 22.971809704), (36.3, 22.742))
            Line((36.3, 22.742), (36.3, 20.817))
            Line((36.3, 20.817), (35, 20.817))
        make_face()
    revolve(axis=Axis((36.3, 20.817, 11), (-1, 0, 0)))

    # Sketch18 → Revolve4 (revolve)
    with BuildSketch(Plane.XY.offset(11)):
        with BuildLine():
            Line((-36.3, 20.817), (-36.3, 22.742))
            ThreePointArc((-36.3, 22.742), (-36.204809704, 22.971809704), (-35.975, 23.067))
            Line((-35.975, 23.067), (-35, 23.067))
            Line((-35, 23.067), (-35, 20.817))
            Line((-35, 20.817), (-36.3, 20.817))
        make_face()
    revolve(axis=Axis((-35, 20.817, 11), (-1, 0, 0)))

    # Sketch19 → Cut-Extrude4 (cut)
    with BuildSketch(Plane(origin=(36.3, 0, 0), x_dir=(0, 0, -1), z_dir=(1, 0, 0))):
        Polygon((10, 21.394350269), (10, 20.239649731), (11, 19.662299462), (12, 20.239649731), (12, 21.394350269), (11, 21.971700538), align=None)
    extrude(amount=-CUT_EXTRUDE4_DEPTH, mode=Mode.SUBTRACT)

    # Sketch20 → Cut-Extrude5 (cut)
    with BuildSketch(Plane(origin=(36.3, 0, 0), x_dir=(0, 0, -1), z_dir=(1, 0, 0))):
        Polygon((-12, 21.394350269), (-12, 20.239649731), (-11, 19.662299462), (-10, 20.239649731), (-10, 21.394350269), (-11, 21.971700538), align=None)
    extrude(amount=-CUT_EXTRUDE5_DEPTH, mode=Mode.SUBTRACT)

    # Sketch21 → Cut-Extrude6 (cut)
    with BuildSketch(Plane(origin=(-36.3, 0, 0), x_dir=(0, 0, -1), z_dir=(1, 0, 0))):
        Polygon((10, 21.394350269), (10, 20.239649731), (11, 19.662299462), (12, 20.239649731), (12, 21.394350269), (11, 21.971700538), align=None)
    extrude(amount=CUT_EXTRUDE6_DEPTH, mode=Mode.SUBTRACT)

    # Sketch22 → Cut-Extrude7 (cut)
    with BuildSketch(Plane(origin=(-36.3, 0, 0), x_dir=(0, 0, -1), z_dir=(1, 0, 0))):
        Polygon((-12, 21.394350269), (-12, 20.239649731), (-11, 19.662299462), (-10, 20.239649731), (-10, 21.394350269), (-11, 21.971700538), align=None)
    extrude(amount=CUT_EXTRUDE7_DEPTH, mode=Mode.SUBTRACT)

    # Sketch23 → Cut-Extrude8 (cut, two sides: drawn at the far end of the back side and taken through both)
    with BuildSketch(Plane.XY.offset(-CUT_EXTRUDE8_DEPTH_BACK)):
        Polygon((-34, 25.2), (-34, 24.7), (-33.5, 25.2), align=None)
    extrude(amount=CUT_EXTRUDE8_DEPTH + CUT_EXTRUDE8_DEPTH_BACK, mode=Mode.SUBTRACT)

    # Sketch24 → Cut-Extrude9 (cut, two sides: drawn at the far end of the back side and taken through both)
    with BuildSketch(Plane.XY.offset(-CUT_EXTRUDE9_DEPTH_BACK)):
        Polygon((33.5, 25.2), (34, 24.7), (34, 25.2), align=None)
    extrude(amount=CUT_EXTRUDE9_DEPTH + CUT_EXTRUDE9_DEPTH_BACK, mode=Mode.SUBTRACT)

    # Sketch25 → Cut-Extrude10 (cut)
    with BuildSketch(Plane(origin=(0, 0, 0), x_dir=(1, 0, 0), z_dir=(0, 1, 0))):
        Polygon((33.5, 21), (34, 20.5), (34, 21), align=None)
    extrude(amount=CUT_EXTRUDE10_DEPTH, mode=Mode.SUBTRACT)

    # Sketch26 → Cut-Extrude11 (cut)
    with BuildSketch(Plane(origin=(0, 0, 0), x_dir=(1, 0, 0), z_dir=(0, 1, 0))):
        Polygon((-34, 21), (-34, 20.5), (-33.5, 21), align=None)
    extrude(amount=CUT_EXTRUDE11_DEPTH, mode=Mode.SUBTRACT)

    # Sketch27 → Cut-Extrude12 (cut)
    with BuildSketch(Plane(origin=(0, 0, 0), x_dir=(1, 0, 0), z_dir=(0, 1, 0))):
        Polygon((33.5, -21), (34, -21), (34, -20.5), align=None)
    extrude(amount=CUT_EXTRUDE12_DEPTH, mode=Mode.SUBTRACT)

    # Sketch28 → Cut-Extrude13 (cut)
    with BuildSketch(Plane(origin=(0, 0, 0), x_dir=(1, 0, 0), z_dir=(0, 1, 0))):
        Polygon((-34, -21), (-33.5, -21), (-34, -20.5), align=None)
    extrude(amount=CUT_EXTRUDE13_DEPTH, mode=Mode.SUBTRACT)

    # Sketch29 → Cut-Revolve5 (revolve, cut)
    with BuildSketch(Plane.XY):
        Polygon((27.580584363, 21), (29, 23.4585), (34.4585, 23.4585), (35, 24), (35, 21), align=None)
    revolve(axis=Axis((35, 21, 0), (-1, 0, 0)), mode=Mode.SUBTRACT)

    # Sketch30 → Cut-Revolve6 (revolve, cut)
    with BuildSketch(Plane.XY):
        Polygon((-35, 21), (-35, 24), (-34.4585, 23.4585), (-29, 23.4585), (-27.580584363, 21), align=None)
    revolve(axis=Axis((-27.580584363, 21, 0), (-1, 0, 0)), mode=Mode.SUBTRACT)

    # Sketch31 → Revolve5 (revolve)
    with BuildSketch(Plane.XY.offset(-13.4)):
        with BuildLine():
            Line((-20, 0), (-21.372, 0))
            ThreePointArc((-21.372, 0), (-21.614537626, 0.100462374), (-21.715, 0.343))
            Line((-21.715, 0.343), (-21.715, 3.43))
            Line((-21.715, 3.43), (-20, 3.43))
            Line((-20, 3.43), (-20, 0))
        make_face()
    revolve(axis=Axis((-20, 3.43, -13.4), (0, -1, 0)))

    # Sketch32 → Revolve6 (revolve)
    with BuildSketch(Plane.XY.offset(-13.4)):
        with BuildLine():
            Line((20, 0), (18.628, 0))
            ThreePointArc((18.628, 0), (18.385462374, 0.100462374), (18.285, 0.343))
            Line((18.285, 0.343), (18.285, 3.43))
            Line((18.285, 3.43), (20, 3.43))
            Line((20, 3.43), (20, 0))
        make_face()
    revolve(axis=Axis((20, 3.43, -13.4), (0, -1, 0)))

    # Sketch33 → Revolve7 (revolve)
    with BuildSketch(Plane.XY.offset(13.4)):
        with BuildLine():
            Line((-20, 0), (-21.372, 0))
            ThreePointArc((-21.372, 0), (-21.614537626, 0.100462374), (-21.715, 0.343))
            Line((-21.715, 0.343), (-21.715, 3.43))
            Line((-21.715, 3.43), (-20, 3.43))
            Line((-20, 3.43), (-20, 0))
        make_face()
    revolve(axis=Axis((-20, 3.43, 13.4), (0, -1, 0)))

    # Sketch34 → Revolve8 (revolve)
    with BuildSketch(Plane.XY.offset(13.4)):
        with BuildLine():
            Line((20, 0), (18.628, 0))
            ThreePointArc((18.628, 0), (18.385462374, 0.100462374), (18.285, 0.343))
            Line((18.285, 0.343), (18.285, 3.43))
            Line((18.285, 3.43), (20, 3.43))
            Line((20, 3.43), (20, 0))
        make_face()
    revolve(axis=Axis((20, 3.43, 13.4), (0, -1, 0)))


solid = part.part
